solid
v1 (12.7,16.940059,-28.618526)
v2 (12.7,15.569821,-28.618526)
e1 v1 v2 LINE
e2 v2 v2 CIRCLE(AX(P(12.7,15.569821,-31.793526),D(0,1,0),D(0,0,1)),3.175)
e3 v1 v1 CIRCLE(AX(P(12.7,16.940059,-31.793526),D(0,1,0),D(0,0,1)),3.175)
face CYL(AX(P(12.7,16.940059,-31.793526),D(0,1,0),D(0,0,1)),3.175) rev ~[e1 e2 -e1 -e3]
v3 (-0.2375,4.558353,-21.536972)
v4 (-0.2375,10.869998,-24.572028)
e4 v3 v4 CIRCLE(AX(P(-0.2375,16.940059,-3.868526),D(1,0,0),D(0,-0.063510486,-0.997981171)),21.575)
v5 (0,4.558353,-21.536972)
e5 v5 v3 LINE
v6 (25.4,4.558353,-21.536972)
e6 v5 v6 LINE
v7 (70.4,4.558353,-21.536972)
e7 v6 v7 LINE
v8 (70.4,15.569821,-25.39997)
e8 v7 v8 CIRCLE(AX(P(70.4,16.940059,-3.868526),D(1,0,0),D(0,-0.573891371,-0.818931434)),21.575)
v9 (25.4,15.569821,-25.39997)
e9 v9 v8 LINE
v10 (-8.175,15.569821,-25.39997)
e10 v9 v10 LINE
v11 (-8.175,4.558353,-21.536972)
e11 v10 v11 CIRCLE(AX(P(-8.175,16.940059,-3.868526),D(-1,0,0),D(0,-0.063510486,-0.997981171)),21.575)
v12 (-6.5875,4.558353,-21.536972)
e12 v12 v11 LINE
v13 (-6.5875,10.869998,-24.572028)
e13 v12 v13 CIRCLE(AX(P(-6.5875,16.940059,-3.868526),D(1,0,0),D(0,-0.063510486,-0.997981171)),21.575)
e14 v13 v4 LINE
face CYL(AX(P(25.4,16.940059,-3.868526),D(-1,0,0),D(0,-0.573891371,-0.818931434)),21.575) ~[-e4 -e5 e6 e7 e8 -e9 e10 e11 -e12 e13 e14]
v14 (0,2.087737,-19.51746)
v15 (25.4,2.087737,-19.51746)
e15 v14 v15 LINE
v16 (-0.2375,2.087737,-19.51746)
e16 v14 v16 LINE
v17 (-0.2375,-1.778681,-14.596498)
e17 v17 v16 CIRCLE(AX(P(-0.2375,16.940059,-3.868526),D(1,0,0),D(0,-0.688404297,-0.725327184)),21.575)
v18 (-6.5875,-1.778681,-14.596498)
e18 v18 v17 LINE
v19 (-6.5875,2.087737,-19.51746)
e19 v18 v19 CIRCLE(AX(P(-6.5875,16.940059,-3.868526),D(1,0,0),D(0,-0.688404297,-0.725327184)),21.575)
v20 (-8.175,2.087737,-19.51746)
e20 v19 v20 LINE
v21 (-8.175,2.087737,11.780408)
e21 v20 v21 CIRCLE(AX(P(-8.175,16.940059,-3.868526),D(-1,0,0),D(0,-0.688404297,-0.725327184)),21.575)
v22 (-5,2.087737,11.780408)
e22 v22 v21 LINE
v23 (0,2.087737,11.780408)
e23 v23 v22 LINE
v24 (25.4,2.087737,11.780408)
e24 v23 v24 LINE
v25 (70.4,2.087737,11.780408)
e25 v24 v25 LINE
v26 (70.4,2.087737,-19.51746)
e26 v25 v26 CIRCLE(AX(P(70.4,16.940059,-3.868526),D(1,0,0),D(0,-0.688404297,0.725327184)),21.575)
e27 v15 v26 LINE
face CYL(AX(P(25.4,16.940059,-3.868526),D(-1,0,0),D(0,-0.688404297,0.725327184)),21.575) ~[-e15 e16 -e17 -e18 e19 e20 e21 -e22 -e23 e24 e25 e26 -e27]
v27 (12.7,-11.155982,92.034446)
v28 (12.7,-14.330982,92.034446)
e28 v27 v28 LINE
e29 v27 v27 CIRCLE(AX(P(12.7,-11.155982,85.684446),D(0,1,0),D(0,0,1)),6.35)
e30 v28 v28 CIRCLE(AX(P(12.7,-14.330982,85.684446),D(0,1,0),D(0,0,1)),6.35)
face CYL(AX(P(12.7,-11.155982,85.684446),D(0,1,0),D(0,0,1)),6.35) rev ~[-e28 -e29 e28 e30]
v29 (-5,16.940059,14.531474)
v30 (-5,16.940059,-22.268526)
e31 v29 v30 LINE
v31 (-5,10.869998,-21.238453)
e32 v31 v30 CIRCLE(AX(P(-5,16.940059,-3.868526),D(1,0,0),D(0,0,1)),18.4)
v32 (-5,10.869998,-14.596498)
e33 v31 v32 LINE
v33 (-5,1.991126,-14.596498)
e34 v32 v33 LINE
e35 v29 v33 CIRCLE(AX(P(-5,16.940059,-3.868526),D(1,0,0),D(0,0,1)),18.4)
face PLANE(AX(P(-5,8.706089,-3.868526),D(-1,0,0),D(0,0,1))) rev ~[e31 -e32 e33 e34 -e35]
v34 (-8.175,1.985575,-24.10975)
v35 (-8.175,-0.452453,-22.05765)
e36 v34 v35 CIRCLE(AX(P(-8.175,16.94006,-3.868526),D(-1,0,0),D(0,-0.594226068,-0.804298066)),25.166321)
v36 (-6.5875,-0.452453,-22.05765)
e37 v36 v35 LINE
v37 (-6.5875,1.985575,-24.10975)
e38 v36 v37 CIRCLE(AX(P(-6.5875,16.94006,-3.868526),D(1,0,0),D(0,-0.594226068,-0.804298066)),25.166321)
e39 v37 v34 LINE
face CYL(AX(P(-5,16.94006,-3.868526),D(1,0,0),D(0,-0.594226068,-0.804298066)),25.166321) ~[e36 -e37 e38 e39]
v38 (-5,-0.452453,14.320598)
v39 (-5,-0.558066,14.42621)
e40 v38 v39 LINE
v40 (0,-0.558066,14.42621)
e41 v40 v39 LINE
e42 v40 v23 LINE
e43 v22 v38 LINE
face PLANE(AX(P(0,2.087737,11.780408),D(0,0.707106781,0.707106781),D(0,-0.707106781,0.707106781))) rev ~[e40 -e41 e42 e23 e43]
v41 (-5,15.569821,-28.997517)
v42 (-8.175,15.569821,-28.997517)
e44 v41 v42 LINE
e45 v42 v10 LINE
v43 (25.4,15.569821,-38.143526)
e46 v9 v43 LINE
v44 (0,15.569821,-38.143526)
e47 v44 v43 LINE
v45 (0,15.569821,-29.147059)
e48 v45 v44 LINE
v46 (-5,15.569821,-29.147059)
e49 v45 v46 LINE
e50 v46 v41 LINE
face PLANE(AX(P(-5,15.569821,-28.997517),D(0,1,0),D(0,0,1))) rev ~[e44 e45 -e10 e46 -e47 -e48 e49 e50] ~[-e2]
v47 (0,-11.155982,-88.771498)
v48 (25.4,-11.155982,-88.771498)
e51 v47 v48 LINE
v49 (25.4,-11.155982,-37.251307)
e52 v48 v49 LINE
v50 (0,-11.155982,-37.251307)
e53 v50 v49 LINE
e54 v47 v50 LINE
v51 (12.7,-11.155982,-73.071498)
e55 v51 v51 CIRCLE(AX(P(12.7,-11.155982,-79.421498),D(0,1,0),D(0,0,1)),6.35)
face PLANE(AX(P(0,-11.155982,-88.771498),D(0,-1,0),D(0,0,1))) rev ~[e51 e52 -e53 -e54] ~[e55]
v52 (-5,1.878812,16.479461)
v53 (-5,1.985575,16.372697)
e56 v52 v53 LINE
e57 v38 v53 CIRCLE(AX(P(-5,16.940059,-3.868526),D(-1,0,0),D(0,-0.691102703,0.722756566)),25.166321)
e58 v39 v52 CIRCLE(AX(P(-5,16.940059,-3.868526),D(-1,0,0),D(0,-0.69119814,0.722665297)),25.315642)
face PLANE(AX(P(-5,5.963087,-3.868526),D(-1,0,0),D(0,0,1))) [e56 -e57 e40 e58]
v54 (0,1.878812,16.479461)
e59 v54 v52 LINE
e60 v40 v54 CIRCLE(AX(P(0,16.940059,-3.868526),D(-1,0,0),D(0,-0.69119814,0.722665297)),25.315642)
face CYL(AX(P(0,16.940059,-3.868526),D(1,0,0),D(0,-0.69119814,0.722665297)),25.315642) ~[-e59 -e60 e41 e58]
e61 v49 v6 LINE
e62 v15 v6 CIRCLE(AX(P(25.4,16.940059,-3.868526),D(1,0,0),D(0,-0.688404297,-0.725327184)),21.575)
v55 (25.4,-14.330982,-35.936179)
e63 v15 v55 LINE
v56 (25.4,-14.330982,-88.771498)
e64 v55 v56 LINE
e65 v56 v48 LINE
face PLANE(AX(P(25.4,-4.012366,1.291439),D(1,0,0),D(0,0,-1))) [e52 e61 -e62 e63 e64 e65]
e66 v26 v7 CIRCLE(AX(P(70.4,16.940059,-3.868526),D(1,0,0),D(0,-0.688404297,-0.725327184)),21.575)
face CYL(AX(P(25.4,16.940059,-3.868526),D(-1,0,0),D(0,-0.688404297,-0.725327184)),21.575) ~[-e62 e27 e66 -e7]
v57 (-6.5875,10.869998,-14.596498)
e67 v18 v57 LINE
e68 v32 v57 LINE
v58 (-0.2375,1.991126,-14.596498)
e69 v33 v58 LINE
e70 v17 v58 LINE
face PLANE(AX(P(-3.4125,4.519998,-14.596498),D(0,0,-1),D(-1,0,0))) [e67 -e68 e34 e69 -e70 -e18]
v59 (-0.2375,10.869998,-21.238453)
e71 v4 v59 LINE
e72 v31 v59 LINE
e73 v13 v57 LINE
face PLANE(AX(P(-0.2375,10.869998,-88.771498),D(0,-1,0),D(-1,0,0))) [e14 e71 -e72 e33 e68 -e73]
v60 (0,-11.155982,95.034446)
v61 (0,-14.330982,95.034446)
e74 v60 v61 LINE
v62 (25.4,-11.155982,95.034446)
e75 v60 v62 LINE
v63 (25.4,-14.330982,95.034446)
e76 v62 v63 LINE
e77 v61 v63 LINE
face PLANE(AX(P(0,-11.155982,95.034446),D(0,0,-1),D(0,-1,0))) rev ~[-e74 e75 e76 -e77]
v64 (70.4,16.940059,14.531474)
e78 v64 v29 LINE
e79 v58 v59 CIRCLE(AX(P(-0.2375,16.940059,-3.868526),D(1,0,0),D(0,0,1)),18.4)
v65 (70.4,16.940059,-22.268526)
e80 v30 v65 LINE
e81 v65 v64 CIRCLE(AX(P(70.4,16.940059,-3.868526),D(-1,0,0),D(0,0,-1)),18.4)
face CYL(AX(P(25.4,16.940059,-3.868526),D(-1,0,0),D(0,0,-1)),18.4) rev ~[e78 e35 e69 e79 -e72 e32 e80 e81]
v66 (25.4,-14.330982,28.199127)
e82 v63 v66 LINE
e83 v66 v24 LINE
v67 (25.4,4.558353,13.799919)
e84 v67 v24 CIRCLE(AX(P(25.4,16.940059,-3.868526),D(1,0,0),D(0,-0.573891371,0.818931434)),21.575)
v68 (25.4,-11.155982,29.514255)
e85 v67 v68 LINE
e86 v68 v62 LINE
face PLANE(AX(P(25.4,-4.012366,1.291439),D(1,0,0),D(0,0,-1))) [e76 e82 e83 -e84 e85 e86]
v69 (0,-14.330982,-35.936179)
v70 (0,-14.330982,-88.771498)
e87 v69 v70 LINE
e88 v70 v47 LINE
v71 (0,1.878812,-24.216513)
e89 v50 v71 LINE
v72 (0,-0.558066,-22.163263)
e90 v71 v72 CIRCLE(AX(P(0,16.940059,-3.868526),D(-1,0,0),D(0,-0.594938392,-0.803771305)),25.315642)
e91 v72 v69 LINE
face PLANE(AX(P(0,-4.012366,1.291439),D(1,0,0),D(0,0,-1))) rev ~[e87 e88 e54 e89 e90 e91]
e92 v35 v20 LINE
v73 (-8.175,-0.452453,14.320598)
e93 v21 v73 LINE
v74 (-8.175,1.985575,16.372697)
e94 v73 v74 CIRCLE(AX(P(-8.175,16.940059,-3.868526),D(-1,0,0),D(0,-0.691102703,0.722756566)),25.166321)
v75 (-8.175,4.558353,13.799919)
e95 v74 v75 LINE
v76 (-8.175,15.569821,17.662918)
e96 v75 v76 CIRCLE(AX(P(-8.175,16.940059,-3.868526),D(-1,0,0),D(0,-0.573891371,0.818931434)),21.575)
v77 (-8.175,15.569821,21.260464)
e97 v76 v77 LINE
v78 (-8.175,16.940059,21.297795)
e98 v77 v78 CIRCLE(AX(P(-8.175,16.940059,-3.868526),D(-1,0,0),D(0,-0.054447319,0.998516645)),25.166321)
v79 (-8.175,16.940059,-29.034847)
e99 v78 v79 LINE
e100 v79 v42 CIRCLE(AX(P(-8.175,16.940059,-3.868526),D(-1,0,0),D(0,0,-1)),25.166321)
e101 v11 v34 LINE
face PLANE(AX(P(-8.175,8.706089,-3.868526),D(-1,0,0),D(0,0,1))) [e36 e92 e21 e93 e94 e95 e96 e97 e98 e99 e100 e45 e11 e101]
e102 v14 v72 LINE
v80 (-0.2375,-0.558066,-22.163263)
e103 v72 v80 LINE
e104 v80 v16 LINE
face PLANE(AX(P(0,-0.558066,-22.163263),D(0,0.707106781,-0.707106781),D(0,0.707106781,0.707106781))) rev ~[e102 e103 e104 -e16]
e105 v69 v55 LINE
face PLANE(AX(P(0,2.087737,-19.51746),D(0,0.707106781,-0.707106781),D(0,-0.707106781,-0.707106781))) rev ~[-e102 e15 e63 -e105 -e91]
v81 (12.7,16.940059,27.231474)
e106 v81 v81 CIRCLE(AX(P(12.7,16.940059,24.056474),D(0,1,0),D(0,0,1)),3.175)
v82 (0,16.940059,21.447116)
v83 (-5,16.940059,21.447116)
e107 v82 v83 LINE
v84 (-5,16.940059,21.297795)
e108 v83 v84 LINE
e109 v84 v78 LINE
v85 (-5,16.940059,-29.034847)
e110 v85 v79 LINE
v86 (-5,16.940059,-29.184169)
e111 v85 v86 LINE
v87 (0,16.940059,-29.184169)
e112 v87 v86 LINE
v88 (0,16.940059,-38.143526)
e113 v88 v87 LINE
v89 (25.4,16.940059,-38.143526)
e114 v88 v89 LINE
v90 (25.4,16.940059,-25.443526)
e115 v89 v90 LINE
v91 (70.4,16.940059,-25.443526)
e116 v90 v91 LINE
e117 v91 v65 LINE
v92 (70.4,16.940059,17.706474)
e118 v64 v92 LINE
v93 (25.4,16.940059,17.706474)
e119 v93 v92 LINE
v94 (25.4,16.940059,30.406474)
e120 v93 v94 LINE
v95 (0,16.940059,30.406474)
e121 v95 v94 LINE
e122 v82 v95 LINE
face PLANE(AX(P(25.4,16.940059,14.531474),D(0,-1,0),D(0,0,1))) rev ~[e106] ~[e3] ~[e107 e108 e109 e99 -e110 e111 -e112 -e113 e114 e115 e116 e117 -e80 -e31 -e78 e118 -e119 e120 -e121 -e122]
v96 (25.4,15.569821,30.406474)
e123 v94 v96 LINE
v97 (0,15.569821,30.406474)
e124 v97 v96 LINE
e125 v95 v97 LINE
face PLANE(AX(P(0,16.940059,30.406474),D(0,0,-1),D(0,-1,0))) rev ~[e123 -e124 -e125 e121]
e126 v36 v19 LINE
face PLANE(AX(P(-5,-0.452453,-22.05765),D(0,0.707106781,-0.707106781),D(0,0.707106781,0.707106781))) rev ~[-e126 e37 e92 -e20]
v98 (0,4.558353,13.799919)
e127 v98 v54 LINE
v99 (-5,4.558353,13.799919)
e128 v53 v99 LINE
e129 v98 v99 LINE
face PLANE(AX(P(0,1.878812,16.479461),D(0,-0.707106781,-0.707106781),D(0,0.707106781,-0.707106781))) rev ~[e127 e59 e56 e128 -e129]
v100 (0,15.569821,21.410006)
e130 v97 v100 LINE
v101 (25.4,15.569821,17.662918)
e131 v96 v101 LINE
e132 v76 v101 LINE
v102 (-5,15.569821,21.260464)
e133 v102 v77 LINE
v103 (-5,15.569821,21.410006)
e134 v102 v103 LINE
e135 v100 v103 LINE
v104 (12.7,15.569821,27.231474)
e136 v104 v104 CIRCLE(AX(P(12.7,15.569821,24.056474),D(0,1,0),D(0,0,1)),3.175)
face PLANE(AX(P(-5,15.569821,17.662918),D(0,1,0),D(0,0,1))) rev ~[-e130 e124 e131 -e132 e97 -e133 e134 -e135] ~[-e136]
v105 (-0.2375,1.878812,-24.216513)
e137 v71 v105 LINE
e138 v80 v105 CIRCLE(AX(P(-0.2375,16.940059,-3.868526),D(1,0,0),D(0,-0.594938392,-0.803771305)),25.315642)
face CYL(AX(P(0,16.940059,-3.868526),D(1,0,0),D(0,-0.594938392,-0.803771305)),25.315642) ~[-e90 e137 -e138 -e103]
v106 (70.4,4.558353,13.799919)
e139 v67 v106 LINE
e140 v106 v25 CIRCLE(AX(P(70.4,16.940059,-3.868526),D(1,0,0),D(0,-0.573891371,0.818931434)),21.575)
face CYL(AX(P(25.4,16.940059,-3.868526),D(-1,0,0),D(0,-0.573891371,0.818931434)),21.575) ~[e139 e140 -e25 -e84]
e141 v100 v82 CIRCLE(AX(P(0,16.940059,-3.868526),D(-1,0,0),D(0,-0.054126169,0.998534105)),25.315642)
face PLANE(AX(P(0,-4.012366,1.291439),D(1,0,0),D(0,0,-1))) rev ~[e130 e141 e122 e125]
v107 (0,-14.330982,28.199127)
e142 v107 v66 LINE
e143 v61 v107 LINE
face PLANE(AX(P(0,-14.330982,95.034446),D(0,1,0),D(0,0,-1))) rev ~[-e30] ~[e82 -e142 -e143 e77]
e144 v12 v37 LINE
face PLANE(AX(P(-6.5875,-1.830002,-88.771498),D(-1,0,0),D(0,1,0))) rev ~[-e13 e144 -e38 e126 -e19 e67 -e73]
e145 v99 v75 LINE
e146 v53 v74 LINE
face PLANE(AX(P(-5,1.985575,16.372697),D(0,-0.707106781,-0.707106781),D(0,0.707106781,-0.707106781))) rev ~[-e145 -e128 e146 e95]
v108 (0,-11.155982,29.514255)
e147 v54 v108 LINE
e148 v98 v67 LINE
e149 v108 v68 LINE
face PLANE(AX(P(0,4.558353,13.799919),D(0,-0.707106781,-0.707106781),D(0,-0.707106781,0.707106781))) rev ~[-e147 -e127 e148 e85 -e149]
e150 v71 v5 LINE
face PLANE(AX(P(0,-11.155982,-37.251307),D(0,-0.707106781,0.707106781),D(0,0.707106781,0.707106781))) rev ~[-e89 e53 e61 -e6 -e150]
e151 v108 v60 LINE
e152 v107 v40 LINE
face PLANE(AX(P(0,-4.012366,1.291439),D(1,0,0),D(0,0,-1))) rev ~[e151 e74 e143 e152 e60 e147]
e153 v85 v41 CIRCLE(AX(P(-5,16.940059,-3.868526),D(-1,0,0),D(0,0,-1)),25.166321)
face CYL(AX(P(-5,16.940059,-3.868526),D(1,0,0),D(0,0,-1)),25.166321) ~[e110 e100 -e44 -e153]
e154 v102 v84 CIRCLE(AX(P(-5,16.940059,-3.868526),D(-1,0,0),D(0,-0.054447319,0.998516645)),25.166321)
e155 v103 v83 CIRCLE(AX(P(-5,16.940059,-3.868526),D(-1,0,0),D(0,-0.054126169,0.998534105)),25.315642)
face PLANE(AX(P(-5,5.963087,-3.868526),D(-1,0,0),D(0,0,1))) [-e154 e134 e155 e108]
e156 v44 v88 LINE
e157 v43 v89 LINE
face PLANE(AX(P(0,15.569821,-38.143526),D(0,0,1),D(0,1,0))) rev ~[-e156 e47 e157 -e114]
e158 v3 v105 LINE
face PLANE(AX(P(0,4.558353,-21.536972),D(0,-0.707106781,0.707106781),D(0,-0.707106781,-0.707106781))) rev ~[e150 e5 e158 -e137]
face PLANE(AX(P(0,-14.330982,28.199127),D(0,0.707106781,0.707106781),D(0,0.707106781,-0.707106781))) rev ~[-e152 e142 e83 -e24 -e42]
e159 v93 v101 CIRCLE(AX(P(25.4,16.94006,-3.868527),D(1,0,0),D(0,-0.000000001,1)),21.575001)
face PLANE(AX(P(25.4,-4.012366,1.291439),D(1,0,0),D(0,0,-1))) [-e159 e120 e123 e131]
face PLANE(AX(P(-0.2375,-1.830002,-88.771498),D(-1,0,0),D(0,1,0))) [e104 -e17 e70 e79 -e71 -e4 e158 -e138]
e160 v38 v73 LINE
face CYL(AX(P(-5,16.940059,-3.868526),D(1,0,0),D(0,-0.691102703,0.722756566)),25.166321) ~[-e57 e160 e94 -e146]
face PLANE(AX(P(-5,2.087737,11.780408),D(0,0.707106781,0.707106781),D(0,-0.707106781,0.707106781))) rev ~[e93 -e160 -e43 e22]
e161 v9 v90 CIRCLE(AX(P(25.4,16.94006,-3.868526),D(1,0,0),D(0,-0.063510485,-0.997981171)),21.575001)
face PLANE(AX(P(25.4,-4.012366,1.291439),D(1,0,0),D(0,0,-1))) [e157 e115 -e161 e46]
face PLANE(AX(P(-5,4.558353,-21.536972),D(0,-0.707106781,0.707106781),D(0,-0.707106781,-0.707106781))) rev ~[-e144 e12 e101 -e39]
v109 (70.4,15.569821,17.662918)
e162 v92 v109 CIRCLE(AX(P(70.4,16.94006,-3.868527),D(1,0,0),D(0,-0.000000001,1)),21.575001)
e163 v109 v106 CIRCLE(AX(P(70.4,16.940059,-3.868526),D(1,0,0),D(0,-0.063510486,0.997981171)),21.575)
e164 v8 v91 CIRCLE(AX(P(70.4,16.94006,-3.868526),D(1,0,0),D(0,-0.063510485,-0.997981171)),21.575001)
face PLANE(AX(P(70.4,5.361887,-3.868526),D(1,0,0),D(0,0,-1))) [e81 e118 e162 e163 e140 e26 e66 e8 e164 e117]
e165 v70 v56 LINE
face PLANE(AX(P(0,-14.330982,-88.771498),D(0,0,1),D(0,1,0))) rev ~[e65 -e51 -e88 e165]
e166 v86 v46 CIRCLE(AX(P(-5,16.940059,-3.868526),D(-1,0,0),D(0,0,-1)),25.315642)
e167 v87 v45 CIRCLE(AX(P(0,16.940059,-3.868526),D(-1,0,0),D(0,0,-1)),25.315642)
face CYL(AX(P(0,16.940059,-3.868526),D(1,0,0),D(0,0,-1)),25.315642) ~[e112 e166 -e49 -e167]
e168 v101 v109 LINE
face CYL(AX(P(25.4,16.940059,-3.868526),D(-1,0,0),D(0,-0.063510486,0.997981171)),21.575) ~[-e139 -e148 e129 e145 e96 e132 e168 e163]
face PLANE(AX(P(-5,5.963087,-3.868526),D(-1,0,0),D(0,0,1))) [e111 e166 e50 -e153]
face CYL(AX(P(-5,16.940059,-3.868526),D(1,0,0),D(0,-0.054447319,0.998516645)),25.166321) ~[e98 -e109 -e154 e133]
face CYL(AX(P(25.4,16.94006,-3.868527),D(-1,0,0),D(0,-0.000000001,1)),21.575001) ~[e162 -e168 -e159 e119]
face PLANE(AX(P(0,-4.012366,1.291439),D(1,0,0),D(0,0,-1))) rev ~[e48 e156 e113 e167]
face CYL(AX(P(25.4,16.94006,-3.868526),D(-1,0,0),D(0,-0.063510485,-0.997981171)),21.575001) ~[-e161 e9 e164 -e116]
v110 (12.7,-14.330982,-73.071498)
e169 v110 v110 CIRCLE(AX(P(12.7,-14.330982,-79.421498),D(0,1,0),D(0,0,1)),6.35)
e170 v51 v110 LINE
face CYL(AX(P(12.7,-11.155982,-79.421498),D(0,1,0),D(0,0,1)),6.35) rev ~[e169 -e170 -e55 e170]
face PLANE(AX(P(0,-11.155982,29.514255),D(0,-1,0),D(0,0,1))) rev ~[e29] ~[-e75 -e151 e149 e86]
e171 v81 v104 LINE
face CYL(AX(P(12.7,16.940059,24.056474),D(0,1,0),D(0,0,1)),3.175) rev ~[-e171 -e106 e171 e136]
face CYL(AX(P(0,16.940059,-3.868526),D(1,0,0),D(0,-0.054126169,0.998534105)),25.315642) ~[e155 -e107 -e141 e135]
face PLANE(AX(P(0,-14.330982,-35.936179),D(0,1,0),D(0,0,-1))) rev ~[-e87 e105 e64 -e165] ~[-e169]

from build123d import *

# Parameters (mm, degrees)
BOSS_EXTRUDE2_DEPTH = 25.4
SKETCH5_R           = 6.35
CUT_EXTRUDE3_DEPTH  = 25.4
SKETCH6_R           = 6.35
CUT_EXTRUDE4_DEPTH  = 25.4
SKETCH7_R           = 3.175
CUT_EXTRUDE5_DEPTH  = 3.175
SKETCH8_R           = 3.175
CUT_EXTRUDE6_DEPTH  = 3.175
BOSS_EXTRUDE3_DEPTH = 5
BOSS_EXTRUDE4_DEPTH = 3.175
SKETCH12_W          = 6.35
SKETCH12_H          = 12.7
CUT_EXTRUDE7_DEPTH  = 74.175
BOSS_EXTRUDE5_DEPTH = 45


with BuildPart() as part:
    # Sketch4 → Boss-Extrude2 (new body)
    with BuildSketch(Plane(origin=(0, 0, 0), x_dir=(0, 0, -1), z_dir=(1, 0, 0))):
        with BuildLine():
            Line((-95.034446017, -11.155981989), (-95.034446017, -14.330981989))
            Line((-95.034446017, -14.330981989), (-28.199126576, -14.330981989))
            Line((-28.199126576, -14.330981989), (-11.780407797, 2.08773679))
            ThreePointArc((-11.780407797, 2.08773679), (3.868526207, -4.634940512), (19.517460211, 2.08773679))
            Line((19.517460211, 2.08773679), (35.93617899, -14.330981989))
            Line((35.93617899, -14.330981989), (88.77149843, -14.330981989))
            Line((88.77149843, -14.330981989), (88.77149843, -11.155981989))
            Line((88.77149843, -11.155981989), (37.251307051, -11.155981989))
            Line((37.251307051, -11.155981989), (21.536971904, 4.558353157))
            ThreePointArc((21.536971904, 4.558353157), (24.227085542, 9.797952879), (25.399969977, 15.569820752))
            Line((25.399969977, 15.569820752), (38.143526207, 15.569820752))
            Line((38.143526207, 15.569820752), (38.143526207, 16.940059488))
            Line((38.143526207, 16.940059488), (22.268526207, 16.940059488))
            ThreePointArc((22.268526207, 16.940059488), (3.868526207, -1.459940512), (-14.531473793, 16.940059488))
            Line((-14.531473793, 16.940059488), (-30.406473793, 16.940059488))
            Line((-30.406473793, 16.940059488), (-30.406473793, 15.569820752))
            Line((-30.406473793, 15.569820752), (-17.662917563, 15.569820752))
            ThreePointArc((-17.662917563, 15.569820752), (-16.490033128, 9.797952879), (-13.79991949, 4.558353157))
            Line((-13.79991949, 4.558353157), (-29.514254637, -11.155981989))
            Line((-29.514254637, -11.155981989), (-95.034446017, -11.155981989))
        make_face()
    extrude(amount=BOSS_EXTRUDE2_DEPTH)

    # Sketch5 → Cut-Extrude3 (cut)
    with BuildSketch(Plane(origin=(0, -11.155981989, 0), x_dir=(1, 0, 0), z_dir=(0, 1, 0))):
        with Locations(Location((12.7, -85.684446017, 0), (0, 0, 270))):
            Circle(SKETCH5_R)
    extrude(amount=-CUT_EXTRUDE3_DEPTH, mode=Mode.SUBTRACT)

    # Sketch6 → Cut-Extrude4 (cut)
    with BuildSketch(Plane(origin=(0, -11.155981989, 0), x_dir=(1, 0, 0), z_dir=(0, 1, 0))):
        with Locations(Location((12.7, 79.42149843, 0), (0, 0, 270))):
            Circle(SKETCH6_R)
    extrude(amount=-CUT_EXTRUDE4_DEPTH, mode=Mode.SUBTRACT)

    # Sketch7 → Cut-Extrude5 (cut)
    with BuildSketch(Plane(origin=(0, 16.940059488, 0), x_dir=(1, 0, 0), z_dir=(0, 1, 0))):
        with Locations(Location((12.7, -24.056473793, 0), (0, 0, 270))):
            Circle(SKETCH7_R)
    extrude(amount=-CUT_EXTRUDE5_DEPTH, mode=Mode.SUBTRACT)

    # Sketch8 → Cut-Extrude6 (cut)
    with BuildSketch(Plane(origin=(0, 16.940059488, 0), x_dir=(1, 0, 0), z_dir=(0, 1, 0))):
        with Locations(Location((12.7, 31.793526207, 0), (0, 0, 270))):
            Circle(SKETCH8_R)
    extrude(amount=-CUT_EXTRUDE6_DEPTH, mode=Mode.SUBTRACT)

    # Sketch10 → Boss-Extrude3 (add)
    with BuildSketch(Plane.ZY):
        with BuildLine():
            Line((-22.268526207, 16.940059488), (-29.184168721, 16.940059488))
            ThreePointArc((-29.184168721, 16.940059488), (-29.174889499, 16.254688903), (-29.147058635, 15.569820752))
            Line((-29.147058635, 15.569820752), (-25.399969977, 15.569820752))
            ThreePointArc((-25.399969977, 15.569820752), (-24.227085542, 9.797952879), (-21.536971904, 4.558353157))
            Line((-21.536971904, 4.558353157), (-24.216513217, 1.878811845))
            ThreePointArc((-24.216513217, 1.878811845), (-23.228268183, 0.628034888), (-22.163262525, -0.558065525))
            Line((-22.163262525, -0.558065525), (-19.517460211, 2.08773679))
            ThreePointArc((-19.517460211, 2.08773679), (-3.868526207, -4.634940512), (11.780407797, 2.08773679))
            Line((11.780407797, 2.08773679), (14.426210111, -0.558065525))
            ThreePointArc((14.426210111, -0.558065525), (15.491215769, 0.628034888), (16.479460803, 1.878811845))
            Line((16.479460803, 1.878811845), (13.79991949, 4.558353157))
            ThreePointArc((13.79991949, 4.558353157), (16.490033128, 9.797952879), (17.662917563, 15.569820752))
            Line((17.662917563, 15.569820752), (21.410006221, 15.569820752))
            ThreePointArc((21.410006221, 15.569820752), (21.437837085, 16.254688903), (21.447116307, 16.940059488))
            Line((21.447116307, 16.940059488), (14.531473793, 16.940059488))
            ThreePointArc((14.531473793, 16.940059488), (-3.868526207, -1.459940512), (-22.268526207, 16.940059488))
        make_face()
    extrude(amount=BOSS_EXTRUDE3_DEPTH)

    # Sketch11 → Boss-Extrude4 (add)
    with BuildSketch(Plane.ZY.offset(5)):
        with BuildLine():
            Line((21.297794872, 16.940059488), (-29.034847286, 16.940059488))
            ThreePointArc((-29.034847286, 16.940059488), (-29.025512905, 16.254685909), (-28.997516686, 15.569820752))
            Line((-28.997516686, 15.569820752), (-25.399969977, 15.569820752))
            ThreePointArc((-25.399969977, 15.569820752), (-24.227085542, 9.797952879), (-21.536971904, 4.558353157))
            Line((-21.536971904, 4.558353157), (-24.109749596, 1.985575465))
            ThreePointArc((-24.109749596, 1.985575465), (-23.122328229, 0.734047506), (-22.057650024, -0.452453023))
            Line((-22.057650024, -0.452453023), (-19.517460211, 2.08773679))
            ThreePointArc((-19.517460211, 2.08773679), (-3.868526207, -4.634940512), (11.780407797, 2.08773679))
            Line((11.780407797, 2.08773679), (14.32059761, -0.452453023))
            ThreePointArc((14.32059761, -0.452453023), (15.385275816, 0.734047506), (16.372697182, 1.985575465))
            Line((16.372697182, 1.985575465), (13.79991949, 4.558353157))
            ThreePointArc((13.79991949, 4.558353157), (16.490033128, 9.797952879), (17.662917563, 15.569820752))
            Line((17.662917563, 15.569820752), (21.260464272, 15.569820752))
            ThreePointArc((21.260464272, 15.569820752), (21.288460491, 16.254685909), (21.297794872, 16.940059488))
        make_face()
    extrude(amount=BOSS_EXTRUDE4_DEPTH)

    # Sketch12 → Cut-Extrude7 (cut)
    with BuildSketch(Plane(origin=(0, 0, -88.77149843), x_dir=(-1, 0, 0), z_dir=(0, 0, -1))):
        with Locations((3.4125, 4.519997663)):
            Rectangle(SKETCH12_W, SKETCH12_H)
    extrude(amount=-CUT_EXTRUDE7_DEPTH, mode=Mode.SUBTRACT)

    # Sketch13 → Boss-Extrude5 (add)
    with BuildSketch(Plane(origin=(25.4, 0, 0), x_dir=(0, 0, -1), z_dir=(1, 0, 0))):
        with BuildLine():
            Line((-14.531473793, 16.940059488), (-17.706473793, 16.940059488))
            ThreePointArc((-17.706473793, 16.940059488), (-17.695581986, 16.254594073), (-17.662917563, 15.569820752))
            ThreePointArc((-17.662917563, 15.569820752), (-16.490033128, 9.797952879), (-13.79991949, 4.558353157))
            ThreePointArc((-13.79991949, 4.558353157), (-12.835902363, 3.285657591), (-11.780407797, 2.08773679))
            ThreePointArc((-11.780407797, 2.08773679), (3.868526207, -4.634940512), (19.517460211, 2.08773679))
            ThreePointArc((19.517460211, 2.08773679), (20.572954777, 3.285657591), (21.536971904, 4.558353157))
            ThreePointArc((21.536971904, 4.558353157), (24.227085542, 9.797952879), (25.399969977, 15.569820752))
            ThreePointArc((25.399969977, 15.569820752), (25.4326344, 16.254594073), (25.443526207, 16.940059488))
            Line((25.443526207, 16.940059488), (22.268526207, 16.940059488))
            ThreePointArc((22.268526207, 16.940059488), (3.868526207, -1.459940512), (-14.531473793, 16.940059488))
        make_face()
    extrude(amount=BOSS_EXTRUDE5_DEPTH)


solid = part.part
